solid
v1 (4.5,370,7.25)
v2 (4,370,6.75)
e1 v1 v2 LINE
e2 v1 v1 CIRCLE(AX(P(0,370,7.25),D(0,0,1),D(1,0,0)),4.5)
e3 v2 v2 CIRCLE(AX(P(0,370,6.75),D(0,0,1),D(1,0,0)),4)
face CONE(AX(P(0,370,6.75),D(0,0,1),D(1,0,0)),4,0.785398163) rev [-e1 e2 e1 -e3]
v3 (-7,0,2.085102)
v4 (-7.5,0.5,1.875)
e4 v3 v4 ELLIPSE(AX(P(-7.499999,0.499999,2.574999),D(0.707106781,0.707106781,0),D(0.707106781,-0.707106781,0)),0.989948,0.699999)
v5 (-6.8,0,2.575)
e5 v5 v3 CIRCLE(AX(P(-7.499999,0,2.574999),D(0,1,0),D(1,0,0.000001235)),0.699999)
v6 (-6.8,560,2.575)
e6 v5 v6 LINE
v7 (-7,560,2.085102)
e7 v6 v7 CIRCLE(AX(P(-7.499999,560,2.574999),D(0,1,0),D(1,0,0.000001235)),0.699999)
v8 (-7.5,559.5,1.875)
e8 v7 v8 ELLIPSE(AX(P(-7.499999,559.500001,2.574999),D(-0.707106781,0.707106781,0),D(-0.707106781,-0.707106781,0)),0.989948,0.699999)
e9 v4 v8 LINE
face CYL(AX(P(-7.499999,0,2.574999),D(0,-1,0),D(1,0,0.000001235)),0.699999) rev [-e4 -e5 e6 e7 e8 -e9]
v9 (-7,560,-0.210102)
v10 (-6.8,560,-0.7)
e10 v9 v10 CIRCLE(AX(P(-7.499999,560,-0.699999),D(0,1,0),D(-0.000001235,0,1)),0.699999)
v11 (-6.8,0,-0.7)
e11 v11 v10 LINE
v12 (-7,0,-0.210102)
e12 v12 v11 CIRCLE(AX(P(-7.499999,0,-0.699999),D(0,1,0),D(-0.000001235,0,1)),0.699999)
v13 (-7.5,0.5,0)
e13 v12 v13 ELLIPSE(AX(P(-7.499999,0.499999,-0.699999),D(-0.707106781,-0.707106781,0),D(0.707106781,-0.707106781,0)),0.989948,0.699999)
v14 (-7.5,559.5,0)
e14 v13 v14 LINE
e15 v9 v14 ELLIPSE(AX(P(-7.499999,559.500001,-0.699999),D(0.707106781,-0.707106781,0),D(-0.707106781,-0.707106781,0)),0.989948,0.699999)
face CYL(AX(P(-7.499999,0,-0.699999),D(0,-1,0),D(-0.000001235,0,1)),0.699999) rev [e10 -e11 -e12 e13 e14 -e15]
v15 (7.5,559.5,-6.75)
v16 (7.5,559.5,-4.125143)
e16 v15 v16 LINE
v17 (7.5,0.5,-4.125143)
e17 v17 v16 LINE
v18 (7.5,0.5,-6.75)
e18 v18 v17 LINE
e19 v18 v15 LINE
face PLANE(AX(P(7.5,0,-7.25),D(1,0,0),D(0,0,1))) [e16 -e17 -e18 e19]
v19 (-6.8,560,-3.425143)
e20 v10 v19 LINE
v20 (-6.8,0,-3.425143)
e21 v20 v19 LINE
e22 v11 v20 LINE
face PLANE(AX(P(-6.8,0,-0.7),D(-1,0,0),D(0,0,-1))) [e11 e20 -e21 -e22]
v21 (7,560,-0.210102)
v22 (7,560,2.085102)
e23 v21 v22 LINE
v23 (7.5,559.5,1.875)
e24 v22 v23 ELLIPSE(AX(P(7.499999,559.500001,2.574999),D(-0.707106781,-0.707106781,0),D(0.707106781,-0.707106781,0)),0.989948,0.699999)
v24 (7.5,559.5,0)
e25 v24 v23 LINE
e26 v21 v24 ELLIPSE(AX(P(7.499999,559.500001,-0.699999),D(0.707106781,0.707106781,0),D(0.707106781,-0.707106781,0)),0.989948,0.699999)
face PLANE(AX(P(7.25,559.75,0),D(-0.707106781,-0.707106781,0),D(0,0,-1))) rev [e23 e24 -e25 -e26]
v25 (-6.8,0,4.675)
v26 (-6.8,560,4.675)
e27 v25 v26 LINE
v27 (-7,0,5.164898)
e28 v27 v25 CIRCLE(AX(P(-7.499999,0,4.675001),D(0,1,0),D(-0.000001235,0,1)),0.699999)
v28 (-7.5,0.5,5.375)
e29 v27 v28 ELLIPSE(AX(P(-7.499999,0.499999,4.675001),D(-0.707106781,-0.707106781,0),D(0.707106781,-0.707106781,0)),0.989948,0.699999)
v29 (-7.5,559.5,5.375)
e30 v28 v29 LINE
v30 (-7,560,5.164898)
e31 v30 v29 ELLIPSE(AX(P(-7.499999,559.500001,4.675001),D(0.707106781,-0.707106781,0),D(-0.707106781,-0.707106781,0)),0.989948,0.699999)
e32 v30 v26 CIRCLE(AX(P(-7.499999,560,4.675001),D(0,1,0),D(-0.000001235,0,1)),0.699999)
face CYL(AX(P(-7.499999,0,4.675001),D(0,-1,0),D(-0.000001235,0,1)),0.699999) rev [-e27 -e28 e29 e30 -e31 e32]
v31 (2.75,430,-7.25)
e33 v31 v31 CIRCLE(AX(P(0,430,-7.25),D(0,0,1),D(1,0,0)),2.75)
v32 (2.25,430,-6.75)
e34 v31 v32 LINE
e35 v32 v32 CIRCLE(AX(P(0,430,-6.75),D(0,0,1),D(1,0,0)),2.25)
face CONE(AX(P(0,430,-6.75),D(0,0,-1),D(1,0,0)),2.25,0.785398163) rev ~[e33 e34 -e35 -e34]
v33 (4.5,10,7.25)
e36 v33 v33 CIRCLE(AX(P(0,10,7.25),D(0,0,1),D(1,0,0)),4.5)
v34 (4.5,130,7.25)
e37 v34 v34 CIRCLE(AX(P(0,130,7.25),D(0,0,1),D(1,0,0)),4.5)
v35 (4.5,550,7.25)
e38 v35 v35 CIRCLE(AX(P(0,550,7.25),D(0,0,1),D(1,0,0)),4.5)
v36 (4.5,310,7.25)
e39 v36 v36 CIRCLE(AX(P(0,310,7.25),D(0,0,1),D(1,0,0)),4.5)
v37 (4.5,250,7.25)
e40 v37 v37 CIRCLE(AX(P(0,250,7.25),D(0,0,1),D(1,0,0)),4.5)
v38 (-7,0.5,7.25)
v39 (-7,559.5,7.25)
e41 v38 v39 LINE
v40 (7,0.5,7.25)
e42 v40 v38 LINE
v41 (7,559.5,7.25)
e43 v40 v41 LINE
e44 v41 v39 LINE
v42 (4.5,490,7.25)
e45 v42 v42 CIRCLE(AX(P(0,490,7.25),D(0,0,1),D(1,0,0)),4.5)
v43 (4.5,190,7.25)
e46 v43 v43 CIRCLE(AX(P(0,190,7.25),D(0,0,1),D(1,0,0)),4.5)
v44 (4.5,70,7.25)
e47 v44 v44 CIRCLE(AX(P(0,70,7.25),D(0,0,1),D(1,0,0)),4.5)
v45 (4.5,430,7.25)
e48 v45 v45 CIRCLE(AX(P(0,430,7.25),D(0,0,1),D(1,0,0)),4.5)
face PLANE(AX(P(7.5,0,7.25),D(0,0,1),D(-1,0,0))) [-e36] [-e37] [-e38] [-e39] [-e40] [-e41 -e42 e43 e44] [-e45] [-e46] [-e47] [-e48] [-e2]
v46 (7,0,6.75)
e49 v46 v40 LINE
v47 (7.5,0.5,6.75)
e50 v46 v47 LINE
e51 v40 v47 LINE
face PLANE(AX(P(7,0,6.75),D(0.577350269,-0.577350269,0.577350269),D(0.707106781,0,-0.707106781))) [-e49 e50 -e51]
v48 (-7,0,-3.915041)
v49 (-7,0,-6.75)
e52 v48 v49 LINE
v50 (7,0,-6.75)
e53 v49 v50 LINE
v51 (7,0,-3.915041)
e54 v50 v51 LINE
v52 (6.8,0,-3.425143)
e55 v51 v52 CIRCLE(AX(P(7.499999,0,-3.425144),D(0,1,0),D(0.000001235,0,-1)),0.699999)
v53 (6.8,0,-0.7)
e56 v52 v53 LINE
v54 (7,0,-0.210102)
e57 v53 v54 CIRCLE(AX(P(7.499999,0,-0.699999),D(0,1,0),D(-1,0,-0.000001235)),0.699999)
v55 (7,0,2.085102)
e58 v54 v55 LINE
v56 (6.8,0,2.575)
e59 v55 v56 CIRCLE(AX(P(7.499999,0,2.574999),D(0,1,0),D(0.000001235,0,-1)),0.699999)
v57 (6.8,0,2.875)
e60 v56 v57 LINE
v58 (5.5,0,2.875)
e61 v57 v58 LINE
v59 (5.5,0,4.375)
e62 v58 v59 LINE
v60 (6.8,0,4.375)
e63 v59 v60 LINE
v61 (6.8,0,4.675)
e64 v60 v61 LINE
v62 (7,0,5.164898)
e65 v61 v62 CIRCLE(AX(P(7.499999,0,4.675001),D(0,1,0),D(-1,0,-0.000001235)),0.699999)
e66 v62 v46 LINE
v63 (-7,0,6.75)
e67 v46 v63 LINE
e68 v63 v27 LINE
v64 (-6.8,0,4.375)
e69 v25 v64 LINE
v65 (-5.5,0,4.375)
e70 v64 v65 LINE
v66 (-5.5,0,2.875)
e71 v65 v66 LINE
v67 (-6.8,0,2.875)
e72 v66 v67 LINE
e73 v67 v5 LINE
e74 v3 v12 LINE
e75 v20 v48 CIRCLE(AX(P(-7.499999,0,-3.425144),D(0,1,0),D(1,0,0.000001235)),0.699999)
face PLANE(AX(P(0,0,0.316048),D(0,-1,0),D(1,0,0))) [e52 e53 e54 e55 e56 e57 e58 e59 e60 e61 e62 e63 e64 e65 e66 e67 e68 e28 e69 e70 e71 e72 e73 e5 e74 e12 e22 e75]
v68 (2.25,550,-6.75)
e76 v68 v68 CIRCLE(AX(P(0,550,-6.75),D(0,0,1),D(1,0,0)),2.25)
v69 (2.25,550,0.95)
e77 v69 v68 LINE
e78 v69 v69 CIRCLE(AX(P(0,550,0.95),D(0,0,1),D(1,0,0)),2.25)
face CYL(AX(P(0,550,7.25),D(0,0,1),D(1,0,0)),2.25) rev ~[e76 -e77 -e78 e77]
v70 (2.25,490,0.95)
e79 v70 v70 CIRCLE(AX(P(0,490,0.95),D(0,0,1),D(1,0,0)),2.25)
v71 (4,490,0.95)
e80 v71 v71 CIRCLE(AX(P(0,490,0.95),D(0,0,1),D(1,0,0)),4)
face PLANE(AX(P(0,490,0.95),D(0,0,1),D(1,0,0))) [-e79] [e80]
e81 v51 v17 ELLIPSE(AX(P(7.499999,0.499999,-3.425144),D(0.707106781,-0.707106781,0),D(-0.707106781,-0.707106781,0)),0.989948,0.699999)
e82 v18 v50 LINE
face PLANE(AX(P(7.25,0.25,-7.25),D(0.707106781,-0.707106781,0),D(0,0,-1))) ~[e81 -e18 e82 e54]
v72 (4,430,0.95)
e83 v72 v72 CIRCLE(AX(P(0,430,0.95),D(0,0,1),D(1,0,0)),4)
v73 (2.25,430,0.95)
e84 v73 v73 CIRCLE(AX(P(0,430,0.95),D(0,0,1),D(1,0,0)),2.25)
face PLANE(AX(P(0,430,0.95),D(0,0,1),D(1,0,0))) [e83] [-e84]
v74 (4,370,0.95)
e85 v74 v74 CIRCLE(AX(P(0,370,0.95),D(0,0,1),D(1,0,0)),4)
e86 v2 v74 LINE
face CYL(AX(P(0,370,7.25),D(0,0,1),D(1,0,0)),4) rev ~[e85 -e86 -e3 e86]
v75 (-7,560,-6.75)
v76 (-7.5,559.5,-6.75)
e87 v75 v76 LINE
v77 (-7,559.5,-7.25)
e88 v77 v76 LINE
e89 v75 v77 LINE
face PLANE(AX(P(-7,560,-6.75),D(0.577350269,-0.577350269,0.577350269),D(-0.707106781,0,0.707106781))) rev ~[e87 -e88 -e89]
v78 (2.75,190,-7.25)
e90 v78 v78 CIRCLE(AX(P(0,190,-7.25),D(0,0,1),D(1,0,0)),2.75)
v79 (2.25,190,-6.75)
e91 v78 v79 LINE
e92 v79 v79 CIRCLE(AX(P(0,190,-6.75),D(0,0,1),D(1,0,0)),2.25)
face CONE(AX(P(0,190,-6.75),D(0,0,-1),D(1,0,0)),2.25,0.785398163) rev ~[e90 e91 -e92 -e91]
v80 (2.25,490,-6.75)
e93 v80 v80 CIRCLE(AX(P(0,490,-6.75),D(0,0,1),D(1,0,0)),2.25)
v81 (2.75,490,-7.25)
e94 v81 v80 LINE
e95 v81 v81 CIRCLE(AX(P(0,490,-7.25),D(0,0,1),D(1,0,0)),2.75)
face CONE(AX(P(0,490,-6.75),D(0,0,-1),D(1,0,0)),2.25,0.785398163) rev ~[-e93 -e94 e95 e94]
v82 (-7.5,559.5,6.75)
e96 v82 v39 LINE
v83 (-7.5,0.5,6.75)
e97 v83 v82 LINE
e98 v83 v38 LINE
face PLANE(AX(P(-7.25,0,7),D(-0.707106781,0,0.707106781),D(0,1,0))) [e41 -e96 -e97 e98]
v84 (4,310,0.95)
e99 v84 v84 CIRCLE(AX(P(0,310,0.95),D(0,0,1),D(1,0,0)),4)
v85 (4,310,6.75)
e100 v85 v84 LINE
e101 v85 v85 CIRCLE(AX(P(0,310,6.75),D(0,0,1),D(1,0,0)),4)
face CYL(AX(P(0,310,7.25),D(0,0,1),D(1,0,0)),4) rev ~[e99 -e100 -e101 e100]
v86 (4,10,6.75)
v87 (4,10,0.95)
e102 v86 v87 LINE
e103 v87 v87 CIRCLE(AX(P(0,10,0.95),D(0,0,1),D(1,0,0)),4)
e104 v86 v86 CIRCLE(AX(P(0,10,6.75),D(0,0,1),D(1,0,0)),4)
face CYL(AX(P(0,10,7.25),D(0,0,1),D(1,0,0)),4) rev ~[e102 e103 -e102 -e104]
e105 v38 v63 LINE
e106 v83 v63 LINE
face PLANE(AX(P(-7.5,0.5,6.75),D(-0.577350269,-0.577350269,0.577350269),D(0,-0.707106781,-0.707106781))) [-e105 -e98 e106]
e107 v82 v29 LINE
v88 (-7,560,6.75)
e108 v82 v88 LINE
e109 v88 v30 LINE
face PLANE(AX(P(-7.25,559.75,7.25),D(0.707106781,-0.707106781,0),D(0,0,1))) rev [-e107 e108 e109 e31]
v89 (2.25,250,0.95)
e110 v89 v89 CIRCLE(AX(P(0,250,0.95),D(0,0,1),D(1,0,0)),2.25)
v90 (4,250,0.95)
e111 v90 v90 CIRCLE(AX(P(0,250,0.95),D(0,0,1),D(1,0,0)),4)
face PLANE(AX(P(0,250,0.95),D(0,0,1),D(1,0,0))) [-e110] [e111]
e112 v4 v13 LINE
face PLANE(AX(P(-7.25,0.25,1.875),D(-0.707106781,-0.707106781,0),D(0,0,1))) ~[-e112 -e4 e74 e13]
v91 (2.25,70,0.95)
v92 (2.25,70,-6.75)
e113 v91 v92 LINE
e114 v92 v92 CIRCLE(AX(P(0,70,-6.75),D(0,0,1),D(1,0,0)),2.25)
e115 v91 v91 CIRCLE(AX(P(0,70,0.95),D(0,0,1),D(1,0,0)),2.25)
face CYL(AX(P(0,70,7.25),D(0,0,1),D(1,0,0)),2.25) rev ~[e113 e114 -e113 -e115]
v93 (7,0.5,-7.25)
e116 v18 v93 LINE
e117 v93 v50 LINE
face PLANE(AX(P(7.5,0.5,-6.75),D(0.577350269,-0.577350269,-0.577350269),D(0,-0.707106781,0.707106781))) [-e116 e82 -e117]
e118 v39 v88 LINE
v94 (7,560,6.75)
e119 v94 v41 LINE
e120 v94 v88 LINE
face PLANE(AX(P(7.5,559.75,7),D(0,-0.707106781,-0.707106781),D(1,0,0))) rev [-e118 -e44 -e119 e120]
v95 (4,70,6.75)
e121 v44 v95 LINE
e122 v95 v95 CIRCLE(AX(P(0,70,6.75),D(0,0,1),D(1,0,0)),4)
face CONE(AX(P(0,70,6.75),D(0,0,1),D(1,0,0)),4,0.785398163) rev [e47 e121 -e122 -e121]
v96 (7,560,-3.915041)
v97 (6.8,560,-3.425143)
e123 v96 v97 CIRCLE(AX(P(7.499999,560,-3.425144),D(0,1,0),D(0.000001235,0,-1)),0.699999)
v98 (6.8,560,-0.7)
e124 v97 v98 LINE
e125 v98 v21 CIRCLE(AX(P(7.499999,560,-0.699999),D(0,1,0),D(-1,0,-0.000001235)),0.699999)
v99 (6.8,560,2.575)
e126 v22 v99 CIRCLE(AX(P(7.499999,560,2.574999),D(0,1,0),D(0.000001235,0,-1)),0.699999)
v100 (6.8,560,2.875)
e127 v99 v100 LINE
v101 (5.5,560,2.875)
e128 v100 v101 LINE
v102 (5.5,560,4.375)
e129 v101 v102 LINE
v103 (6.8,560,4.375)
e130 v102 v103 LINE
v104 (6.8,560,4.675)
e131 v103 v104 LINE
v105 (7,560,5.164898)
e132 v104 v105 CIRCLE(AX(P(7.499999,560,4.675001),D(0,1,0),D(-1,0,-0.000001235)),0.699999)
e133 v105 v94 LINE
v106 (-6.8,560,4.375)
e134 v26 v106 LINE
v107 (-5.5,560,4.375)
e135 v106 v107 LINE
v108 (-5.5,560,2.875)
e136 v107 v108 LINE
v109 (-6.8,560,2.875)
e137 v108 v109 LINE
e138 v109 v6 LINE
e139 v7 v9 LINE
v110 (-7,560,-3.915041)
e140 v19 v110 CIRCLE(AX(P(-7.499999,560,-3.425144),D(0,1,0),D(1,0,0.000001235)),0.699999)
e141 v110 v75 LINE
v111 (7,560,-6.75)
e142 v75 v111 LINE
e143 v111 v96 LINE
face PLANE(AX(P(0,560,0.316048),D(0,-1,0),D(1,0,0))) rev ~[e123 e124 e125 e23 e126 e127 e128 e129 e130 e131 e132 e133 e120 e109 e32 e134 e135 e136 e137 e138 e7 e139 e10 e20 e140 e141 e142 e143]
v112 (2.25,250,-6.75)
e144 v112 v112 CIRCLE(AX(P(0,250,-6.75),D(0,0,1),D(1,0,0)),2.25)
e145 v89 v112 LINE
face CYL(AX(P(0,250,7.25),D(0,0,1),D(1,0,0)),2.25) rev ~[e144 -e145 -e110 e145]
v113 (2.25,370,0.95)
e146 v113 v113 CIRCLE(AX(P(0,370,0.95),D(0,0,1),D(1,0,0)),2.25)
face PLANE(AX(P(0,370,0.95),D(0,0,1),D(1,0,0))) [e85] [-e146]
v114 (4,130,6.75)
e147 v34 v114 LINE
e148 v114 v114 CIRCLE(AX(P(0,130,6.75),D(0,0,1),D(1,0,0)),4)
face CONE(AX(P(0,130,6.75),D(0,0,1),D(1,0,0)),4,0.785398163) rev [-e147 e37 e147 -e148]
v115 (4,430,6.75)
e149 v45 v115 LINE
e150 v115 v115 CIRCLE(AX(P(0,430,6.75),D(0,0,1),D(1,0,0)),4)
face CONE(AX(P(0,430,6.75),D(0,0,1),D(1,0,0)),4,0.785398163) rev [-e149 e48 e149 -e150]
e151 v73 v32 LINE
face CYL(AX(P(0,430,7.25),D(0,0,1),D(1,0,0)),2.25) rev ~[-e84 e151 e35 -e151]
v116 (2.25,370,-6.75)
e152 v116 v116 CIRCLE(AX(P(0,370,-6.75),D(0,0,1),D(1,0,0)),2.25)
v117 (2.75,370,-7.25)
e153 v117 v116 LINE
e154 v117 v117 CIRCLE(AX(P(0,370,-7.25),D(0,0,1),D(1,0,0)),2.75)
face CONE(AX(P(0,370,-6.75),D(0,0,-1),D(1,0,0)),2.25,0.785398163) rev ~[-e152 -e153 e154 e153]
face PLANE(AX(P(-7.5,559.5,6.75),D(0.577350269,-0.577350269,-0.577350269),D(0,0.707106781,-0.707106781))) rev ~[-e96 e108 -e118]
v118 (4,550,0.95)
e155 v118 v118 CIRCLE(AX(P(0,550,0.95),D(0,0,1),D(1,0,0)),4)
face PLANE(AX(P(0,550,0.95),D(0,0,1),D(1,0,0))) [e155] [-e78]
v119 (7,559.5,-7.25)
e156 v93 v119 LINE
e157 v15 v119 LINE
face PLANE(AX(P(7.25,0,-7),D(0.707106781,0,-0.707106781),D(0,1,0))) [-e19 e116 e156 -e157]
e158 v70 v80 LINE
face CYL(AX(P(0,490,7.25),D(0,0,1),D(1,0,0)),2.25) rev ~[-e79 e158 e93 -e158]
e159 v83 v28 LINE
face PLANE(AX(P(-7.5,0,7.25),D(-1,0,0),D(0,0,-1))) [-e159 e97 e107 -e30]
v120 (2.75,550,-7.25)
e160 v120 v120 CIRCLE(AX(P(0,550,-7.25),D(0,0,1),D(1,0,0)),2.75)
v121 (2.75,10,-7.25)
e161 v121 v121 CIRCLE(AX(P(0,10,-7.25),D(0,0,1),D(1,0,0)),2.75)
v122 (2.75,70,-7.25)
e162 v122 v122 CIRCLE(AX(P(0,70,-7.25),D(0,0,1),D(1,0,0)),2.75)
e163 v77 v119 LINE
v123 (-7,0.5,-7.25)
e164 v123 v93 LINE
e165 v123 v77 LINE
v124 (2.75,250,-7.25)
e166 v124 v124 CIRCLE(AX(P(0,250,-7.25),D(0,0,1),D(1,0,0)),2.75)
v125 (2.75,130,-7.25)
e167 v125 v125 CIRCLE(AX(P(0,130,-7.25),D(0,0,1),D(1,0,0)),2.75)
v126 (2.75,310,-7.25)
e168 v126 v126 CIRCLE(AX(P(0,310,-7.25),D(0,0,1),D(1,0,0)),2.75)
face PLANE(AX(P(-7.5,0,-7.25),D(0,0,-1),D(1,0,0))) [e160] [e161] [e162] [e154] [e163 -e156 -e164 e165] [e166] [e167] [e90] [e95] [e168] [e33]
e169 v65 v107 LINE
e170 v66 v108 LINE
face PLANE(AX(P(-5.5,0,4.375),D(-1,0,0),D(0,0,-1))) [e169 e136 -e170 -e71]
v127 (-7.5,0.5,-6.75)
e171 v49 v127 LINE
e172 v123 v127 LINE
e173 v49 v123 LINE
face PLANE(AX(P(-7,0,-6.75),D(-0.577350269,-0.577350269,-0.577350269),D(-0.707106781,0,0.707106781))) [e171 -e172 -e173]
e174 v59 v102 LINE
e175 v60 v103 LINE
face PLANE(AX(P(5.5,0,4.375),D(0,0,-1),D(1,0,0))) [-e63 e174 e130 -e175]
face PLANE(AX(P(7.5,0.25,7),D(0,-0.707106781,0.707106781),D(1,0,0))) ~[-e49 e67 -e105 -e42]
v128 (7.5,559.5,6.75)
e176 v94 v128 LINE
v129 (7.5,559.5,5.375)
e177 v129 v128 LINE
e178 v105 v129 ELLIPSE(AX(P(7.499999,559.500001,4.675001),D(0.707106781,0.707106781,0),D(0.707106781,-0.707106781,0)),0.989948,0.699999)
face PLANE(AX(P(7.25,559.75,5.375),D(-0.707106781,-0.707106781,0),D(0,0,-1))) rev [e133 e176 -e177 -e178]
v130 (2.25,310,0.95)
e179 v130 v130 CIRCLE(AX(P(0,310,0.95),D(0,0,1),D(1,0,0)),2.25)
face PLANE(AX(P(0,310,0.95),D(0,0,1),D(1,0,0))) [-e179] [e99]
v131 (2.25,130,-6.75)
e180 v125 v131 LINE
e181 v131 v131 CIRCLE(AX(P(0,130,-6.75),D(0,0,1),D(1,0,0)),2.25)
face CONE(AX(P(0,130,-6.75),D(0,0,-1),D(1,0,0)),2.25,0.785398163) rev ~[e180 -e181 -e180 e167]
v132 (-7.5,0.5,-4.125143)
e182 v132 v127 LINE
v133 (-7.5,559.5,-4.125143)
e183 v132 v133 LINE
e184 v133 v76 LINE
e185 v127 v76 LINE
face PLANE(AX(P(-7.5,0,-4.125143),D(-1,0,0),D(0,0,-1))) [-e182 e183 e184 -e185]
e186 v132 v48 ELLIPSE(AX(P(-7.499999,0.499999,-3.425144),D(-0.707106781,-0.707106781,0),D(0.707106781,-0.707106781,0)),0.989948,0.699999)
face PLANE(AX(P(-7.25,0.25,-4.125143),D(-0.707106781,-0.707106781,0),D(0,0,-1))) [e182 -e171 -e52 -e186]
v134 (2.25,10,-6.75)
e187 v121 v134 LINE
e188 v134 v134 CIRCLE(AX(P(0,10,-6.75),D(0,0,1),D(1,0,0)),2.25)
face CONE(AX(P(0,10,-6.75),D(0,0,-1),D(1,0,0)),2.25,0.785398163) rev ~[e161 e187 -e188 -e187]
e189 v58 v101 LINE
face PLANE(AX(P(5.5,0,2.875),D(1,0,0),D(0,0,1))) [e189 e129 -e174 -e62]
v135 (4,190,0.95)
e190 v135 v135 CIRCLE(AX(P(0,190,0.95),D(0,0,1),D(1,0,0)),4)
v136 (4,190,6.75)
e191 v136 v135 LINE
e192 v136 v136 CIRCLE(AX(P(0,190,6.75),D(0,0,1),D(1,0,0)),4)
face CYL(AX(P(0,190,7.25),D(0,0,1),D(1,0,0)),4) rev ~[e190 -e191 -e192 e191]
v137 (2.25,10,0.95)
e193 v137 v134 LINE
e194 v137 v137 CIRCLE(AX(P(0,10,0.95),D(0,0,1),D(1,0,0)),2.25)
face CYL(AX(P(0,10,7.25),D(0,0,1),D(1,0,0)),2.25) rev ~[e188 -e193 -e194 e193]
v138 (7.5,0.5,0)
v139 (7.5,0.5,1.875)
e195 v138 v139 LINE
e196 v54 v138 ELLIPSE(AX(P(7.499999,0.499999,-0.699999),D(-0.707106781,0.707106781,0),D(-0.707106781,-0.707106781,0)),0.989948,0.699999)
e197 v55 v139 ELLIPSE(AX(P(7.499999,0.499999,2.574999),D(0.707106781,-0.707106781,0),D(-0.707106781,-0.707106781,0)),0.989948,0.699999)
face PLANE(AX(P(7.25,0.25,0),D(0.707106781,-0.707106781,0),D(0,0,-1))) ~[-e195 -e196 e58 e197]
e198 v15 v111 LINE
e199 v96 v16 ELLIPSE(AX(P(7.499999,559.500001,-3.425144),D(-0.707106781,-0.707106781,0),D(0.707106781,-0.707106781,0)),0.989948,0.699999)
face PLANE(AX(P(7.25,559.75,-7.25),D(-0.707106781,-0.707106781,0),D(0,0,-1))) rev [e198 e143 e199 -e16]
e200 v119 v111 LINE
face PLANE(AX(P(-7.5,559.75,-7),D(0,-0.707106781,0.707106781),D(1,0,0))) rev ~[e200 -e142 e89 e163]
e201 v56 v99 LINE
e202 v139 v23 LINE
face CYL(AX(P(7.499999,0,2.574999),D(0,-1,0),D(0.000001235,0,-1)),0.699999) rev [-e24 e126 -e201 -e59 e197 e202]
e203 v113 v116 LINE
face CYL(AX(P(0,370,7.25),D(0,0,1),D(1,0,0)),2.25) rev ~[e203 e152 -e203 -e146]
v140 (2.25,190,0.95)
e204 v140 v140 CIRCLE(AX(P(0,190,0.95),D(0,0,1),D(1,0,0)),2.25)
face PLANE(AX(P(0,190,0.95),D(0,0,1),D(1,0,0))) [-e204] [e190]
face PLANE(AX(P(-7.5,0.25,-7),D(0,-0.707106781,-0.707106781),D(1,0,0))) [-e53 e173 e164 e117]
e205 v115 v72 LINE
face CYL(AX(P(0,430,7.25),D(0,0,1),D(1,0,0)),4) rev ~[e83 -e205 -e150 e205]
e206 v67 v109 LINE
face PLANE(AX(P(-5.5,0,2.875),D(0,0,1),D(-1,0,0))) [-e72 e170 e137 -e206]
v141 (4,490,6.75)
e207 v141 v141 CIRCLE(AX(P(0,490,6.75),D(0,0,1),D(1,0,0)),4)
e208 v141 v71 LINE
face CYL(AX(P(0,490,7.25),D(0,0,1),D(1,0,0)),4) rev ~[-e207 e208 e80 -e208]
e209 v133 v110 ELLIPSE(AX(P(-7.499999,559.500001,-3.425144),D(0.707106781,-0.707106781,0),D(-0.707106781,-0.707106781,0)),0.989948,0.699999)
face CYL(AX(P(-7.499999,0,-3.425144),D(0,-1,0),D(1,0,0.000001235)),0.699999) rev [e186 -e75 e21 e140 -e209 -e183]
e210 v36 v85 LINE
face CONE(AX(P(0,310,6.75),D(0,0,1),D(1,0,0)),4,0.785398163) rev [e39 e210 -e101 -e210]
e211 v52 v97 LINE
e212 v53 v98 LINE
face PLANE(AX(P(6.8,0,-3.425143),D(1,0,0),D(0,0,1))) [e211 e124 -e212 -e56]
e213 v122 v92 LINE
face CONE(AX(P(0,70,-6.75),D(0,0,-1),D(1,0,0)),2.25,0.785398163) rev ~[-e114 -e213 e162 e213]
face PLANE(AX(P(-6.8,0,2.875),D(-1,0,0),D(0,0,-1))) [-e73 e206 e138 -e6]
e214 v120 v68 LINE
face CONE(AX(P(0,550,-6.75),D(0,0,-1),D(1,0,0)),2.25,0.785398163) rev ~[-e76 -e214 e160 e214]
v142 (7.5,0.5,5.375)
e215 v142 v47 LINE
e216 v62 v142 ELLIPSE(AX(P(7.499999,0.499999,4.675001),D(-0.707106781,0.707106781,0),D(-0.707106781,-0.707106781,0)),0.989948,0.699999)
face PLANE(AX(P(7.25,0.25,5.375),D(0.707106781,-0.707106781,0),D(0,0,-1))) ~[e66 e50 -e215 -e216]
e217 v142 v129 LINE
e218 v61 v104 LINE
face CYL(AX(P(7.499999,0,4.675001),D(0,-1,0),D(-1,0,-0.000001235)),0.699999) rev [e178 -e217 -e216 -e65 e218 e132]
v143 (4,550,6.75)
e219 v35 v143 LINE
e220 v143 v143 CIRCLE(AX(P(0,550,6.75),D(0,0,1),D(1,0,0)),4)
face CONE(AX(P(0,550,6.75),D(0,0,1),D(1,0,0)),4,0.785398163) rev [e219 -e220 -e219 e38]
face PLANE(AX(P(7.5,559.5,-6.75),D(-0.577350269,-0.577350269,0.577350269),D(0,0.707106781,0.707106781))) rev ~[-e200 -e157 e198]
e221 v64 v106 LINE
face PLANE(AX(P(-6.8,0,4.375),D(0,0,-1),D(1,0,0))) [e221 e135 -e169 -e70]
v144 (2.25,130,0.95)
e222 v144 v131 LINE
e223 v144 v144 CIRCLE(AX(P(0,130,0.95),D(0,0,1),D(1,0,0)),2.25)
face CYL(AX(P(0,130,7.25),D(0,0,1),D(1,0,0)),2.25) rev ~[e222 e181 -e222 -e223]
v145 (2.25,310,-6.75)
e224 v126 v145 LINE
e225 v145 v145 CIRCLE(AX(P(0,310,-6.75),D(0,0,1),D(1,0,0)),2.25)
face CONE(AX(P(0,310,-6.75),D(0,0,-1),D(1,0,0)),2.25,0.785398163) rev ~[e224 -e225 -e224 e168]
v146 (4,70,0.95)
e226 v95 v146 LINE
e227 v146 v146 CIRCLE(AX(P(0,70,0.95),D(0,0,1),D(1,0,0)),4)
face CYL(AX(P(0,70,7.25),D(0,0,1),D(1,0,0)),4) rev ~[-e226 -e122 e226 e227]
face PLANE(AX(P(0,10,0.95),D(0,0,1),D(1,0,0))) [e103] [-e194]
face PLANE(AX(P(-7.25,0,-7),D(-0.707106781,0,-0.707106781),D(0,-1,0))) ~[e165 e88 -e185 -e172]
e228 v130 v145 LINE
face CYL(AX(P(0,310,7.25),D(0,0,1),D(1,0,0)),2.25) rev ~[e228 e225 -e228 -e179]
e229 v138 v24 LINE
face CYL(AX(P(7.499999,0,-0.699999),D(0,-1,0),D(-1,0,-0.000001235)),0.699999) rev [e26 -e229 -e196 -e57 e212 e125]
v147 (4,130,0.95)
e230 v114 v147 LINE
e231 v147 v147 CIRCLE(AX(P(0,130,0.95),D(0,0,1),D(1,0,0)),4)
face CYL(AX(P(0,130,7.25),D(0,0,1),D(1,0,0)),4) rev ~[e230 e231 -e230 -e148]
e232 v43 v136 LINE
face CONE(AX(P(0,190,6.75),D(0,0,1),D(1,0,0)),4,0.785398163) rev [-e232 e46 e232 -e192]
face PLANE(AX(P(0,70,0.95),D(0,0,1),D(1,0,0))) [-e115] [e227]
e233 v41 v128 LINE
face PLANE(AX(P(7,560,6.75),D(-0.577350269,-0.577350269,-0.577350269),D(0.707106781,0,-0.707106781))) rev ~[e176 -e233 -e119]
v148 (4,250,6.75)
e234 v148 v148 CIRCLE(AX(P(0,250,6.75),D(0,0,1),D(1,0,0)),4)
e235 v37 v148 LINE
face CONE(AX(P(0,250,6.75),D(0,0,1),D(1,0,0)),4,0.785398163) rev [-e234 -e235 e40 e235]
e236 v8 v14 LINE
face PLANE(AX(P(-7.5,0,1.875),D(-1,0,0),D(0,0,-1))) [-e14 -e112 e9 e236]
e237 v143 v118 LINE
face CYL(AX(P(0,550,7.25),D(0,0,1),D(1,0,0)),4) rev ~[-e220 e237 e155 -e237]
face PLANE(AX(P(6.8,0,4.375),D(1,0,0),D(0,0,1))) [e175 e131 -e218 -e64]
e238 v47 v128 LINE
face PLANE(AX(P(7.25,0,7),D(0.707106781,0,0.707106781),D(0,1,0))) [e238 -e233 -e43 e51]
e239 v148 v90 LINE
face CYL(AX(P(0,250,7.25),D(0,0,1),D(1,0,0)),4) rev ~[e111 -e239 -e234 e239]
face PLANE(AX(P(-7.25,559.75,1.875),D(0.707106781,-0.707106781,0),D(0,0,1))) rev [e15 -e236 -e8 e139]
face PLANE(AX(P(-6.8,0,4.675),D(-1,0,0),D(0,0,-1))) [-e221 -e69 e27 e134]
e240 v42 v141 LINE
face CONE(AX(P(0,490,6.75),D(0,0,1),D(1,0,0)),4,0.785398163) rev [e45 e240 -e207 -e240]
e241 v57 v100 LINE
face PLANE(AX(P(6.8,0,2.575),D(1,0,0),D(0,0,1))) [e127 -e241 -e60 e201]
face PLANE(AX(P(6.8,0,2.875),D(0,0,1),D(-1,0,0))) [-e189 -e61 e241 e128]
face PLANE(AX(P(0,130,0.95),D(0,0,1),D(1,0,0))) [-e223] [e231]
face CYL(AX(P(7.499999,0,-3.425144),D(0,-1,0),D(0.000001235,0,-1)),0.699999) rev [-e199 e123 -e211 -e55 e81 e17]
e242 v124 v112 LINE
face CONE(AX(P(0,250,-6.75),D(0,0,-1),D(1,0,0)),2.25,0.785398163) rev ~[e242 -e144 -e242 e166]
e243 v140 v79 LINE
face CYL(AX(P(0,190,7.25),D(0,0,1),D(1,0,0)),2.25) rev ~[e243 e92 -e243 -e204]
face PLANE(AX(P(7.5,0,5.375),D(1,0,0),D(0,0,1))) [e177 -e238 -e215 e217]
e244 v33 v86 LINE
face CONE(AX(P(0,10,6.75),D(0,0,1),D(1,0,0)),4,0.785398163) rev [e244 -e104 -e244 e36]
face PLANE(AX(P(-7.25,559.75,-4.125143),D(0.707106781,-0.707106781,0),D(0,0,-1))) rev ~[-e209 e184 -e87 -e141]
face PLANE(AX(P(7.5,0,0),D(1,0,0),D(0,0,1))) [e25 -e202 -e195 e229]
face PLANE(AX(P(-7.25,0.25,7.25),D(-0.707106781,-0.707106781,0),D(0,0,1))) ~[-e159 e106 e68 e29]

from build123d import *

# Parameters (mm, degrees)
F1_DEPTH = 560
F2_R     = 2.25
F3_DEPTH = 14.5
F4_R     = 4
F5_DEPTH = 6.3
F6_SIZE  = 0.5


with BuildPart() as f1:
    # F0 (on Front) → F1 (new body)
    with BuildSketch(Plane.XZ):
        with BuildLine():
            Line((-7.5, -7.25), (0, -7.25))
            Line((0, -7.25), (7.5, -7.25))
            Line((7.5, -7.25), (7.5, -4.125143))
            ThreePointArc((7.5, -4.125143), (7.005025, -3.920118), (6.8, -3.425143))
            Line((6.8, -3.425143), (6.8, -0.7))
            ThreePointArc((6.8, -0.7), (7.005025, -0.205025), (7.5, 0))
            Line((7.5, 0), (7.5, 1.875))
            ThreePointArc((7.5, 1.875), (7.005025, 2.080025), (6.8, 2.575))
            Line((6.8, 2.575), (6.8, 2.875))
            Line((6.8, 2.875), (5.5, 2.875))
            Line((5.5, 2.875), (5.5, 4.375))
            Line((5.5, 4.375), (6.8, 4.375))
            Line((6.8, 4.375), (6.8, 4.675))
            ThreePointArc((6.8, 4.675), (7.005025, 5.169975), (7.5, 5.375))
            Line((7.5, 5.375), (7.5, 7.25))
            Line((7.5, 7.25), (0, 7.25))
            Line((0, 7.25), (-7.5, 7.25))
            Line((-7.5, 7.25), (-7.5, 5.375))
            ThreePointArc((-7.5, 5.375), (-7.005025, 5.169975), (-6.8, 4.675))
            Line((-6.8, 4.675), (-6.8, 4.375))
            Line((-6.8, 4.375), (-5.5, 4.375))
            Line((-5.5, 4.375), (-5.5, 2.875))
            Line((-5.5, 2.875), (-6.8, 2.875))
            Line((-6.8, 2.875), (-6.8, 2.575))
            ThreePointArc((-6.8, 2.575), (-7.005025, 2.080025), (-7.5, 1.875))
            Line((-7.5, 1.875), (-7.5, 0))
            ThreePointArc((-7.5, 0), (-7.005025, -0.205025), (-6.8, -0.7))
            Line((-6.8, -0.7), (-6.8, -3.425143))
            ThreePointArc((-6.8, -3.425143), (-7.005025, -3.920118), (-7.5, -4.125143))
            Line((-7.5, -4.125143), (-7.5, -7.25))
        make_face()
    extrude(amount=-F1_DEPTH)

    # F2 (on face) → F3 (cut, through all)
    with BuildSketch(Plane.XY.offset(7.25)):
        with Locations((0, 10)):
            Circle(F2_R)
        with Locations((0, 70)):
            Circle(F2_R)
        with Locations((0, 130)):
            Circle(F2_R)
        with Locations((0, 190)):
            Circle(F2_R)
        with Locations((0, 250)):
            Circle(F2_R)
        with Locations((0, 310)):
            Circle(F2_R)
        with Locations((0, 370)):
            Circle(F2_R)
        with Locations((0, 430)):
            Circle(F2_R)
        with Locations((0, 490)):
            Circle(F2_R)
        with Locations((0, 550)):
            Circle(F2_R)
    extrude(amount=-F3_DEPTH, mode=Mode.SUBTRACT)

    # F4 (on face) → F5 (cut)
    with BuildSketch(Plane.XY.offset(7.25)):
        with Locations((0, 10)):
            Circle(F4_R)
        with Locations((0, 70)):
            Circle(F4_R)
        with Locations((0, 130)):
            Circle(F4_R)
        with Locations((0, 190)):
            Circle(F4_R)
        with Locations((0, 250)):
            Circle(F4_R)
        with Locations((0, 310)):
            Circle(F4_R)
        with Locations((0, 370)):
            Circle(F4_R)
        with Locations((0, 430)):
            Circle(F4_R)
        with Locations((0, 490)):
            Circle(F4_R)
        with Locations((0, 550)):
            Circle(F4_R)
    extrude(amount=-F5_DEPTH, mode=Mode.SUBTRACT)

    # F6
    f6_edges = [f1.edges().sort_by_distance(p)[0] for p in [
        (7.5, 280, 7.25),
        (0, 0, 7.25),
        (0, 560, 7.25),
        (-7.5, 280, 7.25),
        (-4, 550, 7.25),
        (-4, 490, 7.25),
        (-4, 430, 7.25),
        (-4, 370, 7.25),
        (-4, 310, 7.25),
        (-4, 250, 7.25),
        (-4, 190, 7.25),
        (-4, 130, 7.25),
        (-4, 70, 7.25),
        (-4, 10, 7.25),
        (-7.5, 280, -7.25),
        (0, 0, -7.25),
        (0, 560, -7.25),
        (7.5, 280, -7.25),
        (-2.25, 550, -7.25),
        (-2.25, 490, -7.25),
        (-2.25, 430, -7.25),
        (-2.25, 370, -7.25),
        (-2.25, 310, -7.25),
        (-2.25, 250, -7.25),
        (-2.25, 190, -7.25),
        (-2.25, 130, -7.25),
        (-2.25, 70, -7.25),
        (-2.25, 10, -7.25),
        (-7.5, 0, 6.3125),
        (-7.5, 0, 0.9375),
        (-7.5, 0, -5.687572),
        (7.5, 0, -5.687572),
        (7.5, 0, 0.9375),
        (7.5, 0, 6.3125),
        (-7.5, 560, -5.687572),
        (-7.5, 560, 0.9375),
        (-7.5, 560, 6.3125),
        (7.5, 560, 6.3125),
        (7.5, 560, 0.9375),
        (7.5, 560, -5.687572),
    ]]
    chamfer(f6_edges, length=F6_SIZE)


solid = f1.part
